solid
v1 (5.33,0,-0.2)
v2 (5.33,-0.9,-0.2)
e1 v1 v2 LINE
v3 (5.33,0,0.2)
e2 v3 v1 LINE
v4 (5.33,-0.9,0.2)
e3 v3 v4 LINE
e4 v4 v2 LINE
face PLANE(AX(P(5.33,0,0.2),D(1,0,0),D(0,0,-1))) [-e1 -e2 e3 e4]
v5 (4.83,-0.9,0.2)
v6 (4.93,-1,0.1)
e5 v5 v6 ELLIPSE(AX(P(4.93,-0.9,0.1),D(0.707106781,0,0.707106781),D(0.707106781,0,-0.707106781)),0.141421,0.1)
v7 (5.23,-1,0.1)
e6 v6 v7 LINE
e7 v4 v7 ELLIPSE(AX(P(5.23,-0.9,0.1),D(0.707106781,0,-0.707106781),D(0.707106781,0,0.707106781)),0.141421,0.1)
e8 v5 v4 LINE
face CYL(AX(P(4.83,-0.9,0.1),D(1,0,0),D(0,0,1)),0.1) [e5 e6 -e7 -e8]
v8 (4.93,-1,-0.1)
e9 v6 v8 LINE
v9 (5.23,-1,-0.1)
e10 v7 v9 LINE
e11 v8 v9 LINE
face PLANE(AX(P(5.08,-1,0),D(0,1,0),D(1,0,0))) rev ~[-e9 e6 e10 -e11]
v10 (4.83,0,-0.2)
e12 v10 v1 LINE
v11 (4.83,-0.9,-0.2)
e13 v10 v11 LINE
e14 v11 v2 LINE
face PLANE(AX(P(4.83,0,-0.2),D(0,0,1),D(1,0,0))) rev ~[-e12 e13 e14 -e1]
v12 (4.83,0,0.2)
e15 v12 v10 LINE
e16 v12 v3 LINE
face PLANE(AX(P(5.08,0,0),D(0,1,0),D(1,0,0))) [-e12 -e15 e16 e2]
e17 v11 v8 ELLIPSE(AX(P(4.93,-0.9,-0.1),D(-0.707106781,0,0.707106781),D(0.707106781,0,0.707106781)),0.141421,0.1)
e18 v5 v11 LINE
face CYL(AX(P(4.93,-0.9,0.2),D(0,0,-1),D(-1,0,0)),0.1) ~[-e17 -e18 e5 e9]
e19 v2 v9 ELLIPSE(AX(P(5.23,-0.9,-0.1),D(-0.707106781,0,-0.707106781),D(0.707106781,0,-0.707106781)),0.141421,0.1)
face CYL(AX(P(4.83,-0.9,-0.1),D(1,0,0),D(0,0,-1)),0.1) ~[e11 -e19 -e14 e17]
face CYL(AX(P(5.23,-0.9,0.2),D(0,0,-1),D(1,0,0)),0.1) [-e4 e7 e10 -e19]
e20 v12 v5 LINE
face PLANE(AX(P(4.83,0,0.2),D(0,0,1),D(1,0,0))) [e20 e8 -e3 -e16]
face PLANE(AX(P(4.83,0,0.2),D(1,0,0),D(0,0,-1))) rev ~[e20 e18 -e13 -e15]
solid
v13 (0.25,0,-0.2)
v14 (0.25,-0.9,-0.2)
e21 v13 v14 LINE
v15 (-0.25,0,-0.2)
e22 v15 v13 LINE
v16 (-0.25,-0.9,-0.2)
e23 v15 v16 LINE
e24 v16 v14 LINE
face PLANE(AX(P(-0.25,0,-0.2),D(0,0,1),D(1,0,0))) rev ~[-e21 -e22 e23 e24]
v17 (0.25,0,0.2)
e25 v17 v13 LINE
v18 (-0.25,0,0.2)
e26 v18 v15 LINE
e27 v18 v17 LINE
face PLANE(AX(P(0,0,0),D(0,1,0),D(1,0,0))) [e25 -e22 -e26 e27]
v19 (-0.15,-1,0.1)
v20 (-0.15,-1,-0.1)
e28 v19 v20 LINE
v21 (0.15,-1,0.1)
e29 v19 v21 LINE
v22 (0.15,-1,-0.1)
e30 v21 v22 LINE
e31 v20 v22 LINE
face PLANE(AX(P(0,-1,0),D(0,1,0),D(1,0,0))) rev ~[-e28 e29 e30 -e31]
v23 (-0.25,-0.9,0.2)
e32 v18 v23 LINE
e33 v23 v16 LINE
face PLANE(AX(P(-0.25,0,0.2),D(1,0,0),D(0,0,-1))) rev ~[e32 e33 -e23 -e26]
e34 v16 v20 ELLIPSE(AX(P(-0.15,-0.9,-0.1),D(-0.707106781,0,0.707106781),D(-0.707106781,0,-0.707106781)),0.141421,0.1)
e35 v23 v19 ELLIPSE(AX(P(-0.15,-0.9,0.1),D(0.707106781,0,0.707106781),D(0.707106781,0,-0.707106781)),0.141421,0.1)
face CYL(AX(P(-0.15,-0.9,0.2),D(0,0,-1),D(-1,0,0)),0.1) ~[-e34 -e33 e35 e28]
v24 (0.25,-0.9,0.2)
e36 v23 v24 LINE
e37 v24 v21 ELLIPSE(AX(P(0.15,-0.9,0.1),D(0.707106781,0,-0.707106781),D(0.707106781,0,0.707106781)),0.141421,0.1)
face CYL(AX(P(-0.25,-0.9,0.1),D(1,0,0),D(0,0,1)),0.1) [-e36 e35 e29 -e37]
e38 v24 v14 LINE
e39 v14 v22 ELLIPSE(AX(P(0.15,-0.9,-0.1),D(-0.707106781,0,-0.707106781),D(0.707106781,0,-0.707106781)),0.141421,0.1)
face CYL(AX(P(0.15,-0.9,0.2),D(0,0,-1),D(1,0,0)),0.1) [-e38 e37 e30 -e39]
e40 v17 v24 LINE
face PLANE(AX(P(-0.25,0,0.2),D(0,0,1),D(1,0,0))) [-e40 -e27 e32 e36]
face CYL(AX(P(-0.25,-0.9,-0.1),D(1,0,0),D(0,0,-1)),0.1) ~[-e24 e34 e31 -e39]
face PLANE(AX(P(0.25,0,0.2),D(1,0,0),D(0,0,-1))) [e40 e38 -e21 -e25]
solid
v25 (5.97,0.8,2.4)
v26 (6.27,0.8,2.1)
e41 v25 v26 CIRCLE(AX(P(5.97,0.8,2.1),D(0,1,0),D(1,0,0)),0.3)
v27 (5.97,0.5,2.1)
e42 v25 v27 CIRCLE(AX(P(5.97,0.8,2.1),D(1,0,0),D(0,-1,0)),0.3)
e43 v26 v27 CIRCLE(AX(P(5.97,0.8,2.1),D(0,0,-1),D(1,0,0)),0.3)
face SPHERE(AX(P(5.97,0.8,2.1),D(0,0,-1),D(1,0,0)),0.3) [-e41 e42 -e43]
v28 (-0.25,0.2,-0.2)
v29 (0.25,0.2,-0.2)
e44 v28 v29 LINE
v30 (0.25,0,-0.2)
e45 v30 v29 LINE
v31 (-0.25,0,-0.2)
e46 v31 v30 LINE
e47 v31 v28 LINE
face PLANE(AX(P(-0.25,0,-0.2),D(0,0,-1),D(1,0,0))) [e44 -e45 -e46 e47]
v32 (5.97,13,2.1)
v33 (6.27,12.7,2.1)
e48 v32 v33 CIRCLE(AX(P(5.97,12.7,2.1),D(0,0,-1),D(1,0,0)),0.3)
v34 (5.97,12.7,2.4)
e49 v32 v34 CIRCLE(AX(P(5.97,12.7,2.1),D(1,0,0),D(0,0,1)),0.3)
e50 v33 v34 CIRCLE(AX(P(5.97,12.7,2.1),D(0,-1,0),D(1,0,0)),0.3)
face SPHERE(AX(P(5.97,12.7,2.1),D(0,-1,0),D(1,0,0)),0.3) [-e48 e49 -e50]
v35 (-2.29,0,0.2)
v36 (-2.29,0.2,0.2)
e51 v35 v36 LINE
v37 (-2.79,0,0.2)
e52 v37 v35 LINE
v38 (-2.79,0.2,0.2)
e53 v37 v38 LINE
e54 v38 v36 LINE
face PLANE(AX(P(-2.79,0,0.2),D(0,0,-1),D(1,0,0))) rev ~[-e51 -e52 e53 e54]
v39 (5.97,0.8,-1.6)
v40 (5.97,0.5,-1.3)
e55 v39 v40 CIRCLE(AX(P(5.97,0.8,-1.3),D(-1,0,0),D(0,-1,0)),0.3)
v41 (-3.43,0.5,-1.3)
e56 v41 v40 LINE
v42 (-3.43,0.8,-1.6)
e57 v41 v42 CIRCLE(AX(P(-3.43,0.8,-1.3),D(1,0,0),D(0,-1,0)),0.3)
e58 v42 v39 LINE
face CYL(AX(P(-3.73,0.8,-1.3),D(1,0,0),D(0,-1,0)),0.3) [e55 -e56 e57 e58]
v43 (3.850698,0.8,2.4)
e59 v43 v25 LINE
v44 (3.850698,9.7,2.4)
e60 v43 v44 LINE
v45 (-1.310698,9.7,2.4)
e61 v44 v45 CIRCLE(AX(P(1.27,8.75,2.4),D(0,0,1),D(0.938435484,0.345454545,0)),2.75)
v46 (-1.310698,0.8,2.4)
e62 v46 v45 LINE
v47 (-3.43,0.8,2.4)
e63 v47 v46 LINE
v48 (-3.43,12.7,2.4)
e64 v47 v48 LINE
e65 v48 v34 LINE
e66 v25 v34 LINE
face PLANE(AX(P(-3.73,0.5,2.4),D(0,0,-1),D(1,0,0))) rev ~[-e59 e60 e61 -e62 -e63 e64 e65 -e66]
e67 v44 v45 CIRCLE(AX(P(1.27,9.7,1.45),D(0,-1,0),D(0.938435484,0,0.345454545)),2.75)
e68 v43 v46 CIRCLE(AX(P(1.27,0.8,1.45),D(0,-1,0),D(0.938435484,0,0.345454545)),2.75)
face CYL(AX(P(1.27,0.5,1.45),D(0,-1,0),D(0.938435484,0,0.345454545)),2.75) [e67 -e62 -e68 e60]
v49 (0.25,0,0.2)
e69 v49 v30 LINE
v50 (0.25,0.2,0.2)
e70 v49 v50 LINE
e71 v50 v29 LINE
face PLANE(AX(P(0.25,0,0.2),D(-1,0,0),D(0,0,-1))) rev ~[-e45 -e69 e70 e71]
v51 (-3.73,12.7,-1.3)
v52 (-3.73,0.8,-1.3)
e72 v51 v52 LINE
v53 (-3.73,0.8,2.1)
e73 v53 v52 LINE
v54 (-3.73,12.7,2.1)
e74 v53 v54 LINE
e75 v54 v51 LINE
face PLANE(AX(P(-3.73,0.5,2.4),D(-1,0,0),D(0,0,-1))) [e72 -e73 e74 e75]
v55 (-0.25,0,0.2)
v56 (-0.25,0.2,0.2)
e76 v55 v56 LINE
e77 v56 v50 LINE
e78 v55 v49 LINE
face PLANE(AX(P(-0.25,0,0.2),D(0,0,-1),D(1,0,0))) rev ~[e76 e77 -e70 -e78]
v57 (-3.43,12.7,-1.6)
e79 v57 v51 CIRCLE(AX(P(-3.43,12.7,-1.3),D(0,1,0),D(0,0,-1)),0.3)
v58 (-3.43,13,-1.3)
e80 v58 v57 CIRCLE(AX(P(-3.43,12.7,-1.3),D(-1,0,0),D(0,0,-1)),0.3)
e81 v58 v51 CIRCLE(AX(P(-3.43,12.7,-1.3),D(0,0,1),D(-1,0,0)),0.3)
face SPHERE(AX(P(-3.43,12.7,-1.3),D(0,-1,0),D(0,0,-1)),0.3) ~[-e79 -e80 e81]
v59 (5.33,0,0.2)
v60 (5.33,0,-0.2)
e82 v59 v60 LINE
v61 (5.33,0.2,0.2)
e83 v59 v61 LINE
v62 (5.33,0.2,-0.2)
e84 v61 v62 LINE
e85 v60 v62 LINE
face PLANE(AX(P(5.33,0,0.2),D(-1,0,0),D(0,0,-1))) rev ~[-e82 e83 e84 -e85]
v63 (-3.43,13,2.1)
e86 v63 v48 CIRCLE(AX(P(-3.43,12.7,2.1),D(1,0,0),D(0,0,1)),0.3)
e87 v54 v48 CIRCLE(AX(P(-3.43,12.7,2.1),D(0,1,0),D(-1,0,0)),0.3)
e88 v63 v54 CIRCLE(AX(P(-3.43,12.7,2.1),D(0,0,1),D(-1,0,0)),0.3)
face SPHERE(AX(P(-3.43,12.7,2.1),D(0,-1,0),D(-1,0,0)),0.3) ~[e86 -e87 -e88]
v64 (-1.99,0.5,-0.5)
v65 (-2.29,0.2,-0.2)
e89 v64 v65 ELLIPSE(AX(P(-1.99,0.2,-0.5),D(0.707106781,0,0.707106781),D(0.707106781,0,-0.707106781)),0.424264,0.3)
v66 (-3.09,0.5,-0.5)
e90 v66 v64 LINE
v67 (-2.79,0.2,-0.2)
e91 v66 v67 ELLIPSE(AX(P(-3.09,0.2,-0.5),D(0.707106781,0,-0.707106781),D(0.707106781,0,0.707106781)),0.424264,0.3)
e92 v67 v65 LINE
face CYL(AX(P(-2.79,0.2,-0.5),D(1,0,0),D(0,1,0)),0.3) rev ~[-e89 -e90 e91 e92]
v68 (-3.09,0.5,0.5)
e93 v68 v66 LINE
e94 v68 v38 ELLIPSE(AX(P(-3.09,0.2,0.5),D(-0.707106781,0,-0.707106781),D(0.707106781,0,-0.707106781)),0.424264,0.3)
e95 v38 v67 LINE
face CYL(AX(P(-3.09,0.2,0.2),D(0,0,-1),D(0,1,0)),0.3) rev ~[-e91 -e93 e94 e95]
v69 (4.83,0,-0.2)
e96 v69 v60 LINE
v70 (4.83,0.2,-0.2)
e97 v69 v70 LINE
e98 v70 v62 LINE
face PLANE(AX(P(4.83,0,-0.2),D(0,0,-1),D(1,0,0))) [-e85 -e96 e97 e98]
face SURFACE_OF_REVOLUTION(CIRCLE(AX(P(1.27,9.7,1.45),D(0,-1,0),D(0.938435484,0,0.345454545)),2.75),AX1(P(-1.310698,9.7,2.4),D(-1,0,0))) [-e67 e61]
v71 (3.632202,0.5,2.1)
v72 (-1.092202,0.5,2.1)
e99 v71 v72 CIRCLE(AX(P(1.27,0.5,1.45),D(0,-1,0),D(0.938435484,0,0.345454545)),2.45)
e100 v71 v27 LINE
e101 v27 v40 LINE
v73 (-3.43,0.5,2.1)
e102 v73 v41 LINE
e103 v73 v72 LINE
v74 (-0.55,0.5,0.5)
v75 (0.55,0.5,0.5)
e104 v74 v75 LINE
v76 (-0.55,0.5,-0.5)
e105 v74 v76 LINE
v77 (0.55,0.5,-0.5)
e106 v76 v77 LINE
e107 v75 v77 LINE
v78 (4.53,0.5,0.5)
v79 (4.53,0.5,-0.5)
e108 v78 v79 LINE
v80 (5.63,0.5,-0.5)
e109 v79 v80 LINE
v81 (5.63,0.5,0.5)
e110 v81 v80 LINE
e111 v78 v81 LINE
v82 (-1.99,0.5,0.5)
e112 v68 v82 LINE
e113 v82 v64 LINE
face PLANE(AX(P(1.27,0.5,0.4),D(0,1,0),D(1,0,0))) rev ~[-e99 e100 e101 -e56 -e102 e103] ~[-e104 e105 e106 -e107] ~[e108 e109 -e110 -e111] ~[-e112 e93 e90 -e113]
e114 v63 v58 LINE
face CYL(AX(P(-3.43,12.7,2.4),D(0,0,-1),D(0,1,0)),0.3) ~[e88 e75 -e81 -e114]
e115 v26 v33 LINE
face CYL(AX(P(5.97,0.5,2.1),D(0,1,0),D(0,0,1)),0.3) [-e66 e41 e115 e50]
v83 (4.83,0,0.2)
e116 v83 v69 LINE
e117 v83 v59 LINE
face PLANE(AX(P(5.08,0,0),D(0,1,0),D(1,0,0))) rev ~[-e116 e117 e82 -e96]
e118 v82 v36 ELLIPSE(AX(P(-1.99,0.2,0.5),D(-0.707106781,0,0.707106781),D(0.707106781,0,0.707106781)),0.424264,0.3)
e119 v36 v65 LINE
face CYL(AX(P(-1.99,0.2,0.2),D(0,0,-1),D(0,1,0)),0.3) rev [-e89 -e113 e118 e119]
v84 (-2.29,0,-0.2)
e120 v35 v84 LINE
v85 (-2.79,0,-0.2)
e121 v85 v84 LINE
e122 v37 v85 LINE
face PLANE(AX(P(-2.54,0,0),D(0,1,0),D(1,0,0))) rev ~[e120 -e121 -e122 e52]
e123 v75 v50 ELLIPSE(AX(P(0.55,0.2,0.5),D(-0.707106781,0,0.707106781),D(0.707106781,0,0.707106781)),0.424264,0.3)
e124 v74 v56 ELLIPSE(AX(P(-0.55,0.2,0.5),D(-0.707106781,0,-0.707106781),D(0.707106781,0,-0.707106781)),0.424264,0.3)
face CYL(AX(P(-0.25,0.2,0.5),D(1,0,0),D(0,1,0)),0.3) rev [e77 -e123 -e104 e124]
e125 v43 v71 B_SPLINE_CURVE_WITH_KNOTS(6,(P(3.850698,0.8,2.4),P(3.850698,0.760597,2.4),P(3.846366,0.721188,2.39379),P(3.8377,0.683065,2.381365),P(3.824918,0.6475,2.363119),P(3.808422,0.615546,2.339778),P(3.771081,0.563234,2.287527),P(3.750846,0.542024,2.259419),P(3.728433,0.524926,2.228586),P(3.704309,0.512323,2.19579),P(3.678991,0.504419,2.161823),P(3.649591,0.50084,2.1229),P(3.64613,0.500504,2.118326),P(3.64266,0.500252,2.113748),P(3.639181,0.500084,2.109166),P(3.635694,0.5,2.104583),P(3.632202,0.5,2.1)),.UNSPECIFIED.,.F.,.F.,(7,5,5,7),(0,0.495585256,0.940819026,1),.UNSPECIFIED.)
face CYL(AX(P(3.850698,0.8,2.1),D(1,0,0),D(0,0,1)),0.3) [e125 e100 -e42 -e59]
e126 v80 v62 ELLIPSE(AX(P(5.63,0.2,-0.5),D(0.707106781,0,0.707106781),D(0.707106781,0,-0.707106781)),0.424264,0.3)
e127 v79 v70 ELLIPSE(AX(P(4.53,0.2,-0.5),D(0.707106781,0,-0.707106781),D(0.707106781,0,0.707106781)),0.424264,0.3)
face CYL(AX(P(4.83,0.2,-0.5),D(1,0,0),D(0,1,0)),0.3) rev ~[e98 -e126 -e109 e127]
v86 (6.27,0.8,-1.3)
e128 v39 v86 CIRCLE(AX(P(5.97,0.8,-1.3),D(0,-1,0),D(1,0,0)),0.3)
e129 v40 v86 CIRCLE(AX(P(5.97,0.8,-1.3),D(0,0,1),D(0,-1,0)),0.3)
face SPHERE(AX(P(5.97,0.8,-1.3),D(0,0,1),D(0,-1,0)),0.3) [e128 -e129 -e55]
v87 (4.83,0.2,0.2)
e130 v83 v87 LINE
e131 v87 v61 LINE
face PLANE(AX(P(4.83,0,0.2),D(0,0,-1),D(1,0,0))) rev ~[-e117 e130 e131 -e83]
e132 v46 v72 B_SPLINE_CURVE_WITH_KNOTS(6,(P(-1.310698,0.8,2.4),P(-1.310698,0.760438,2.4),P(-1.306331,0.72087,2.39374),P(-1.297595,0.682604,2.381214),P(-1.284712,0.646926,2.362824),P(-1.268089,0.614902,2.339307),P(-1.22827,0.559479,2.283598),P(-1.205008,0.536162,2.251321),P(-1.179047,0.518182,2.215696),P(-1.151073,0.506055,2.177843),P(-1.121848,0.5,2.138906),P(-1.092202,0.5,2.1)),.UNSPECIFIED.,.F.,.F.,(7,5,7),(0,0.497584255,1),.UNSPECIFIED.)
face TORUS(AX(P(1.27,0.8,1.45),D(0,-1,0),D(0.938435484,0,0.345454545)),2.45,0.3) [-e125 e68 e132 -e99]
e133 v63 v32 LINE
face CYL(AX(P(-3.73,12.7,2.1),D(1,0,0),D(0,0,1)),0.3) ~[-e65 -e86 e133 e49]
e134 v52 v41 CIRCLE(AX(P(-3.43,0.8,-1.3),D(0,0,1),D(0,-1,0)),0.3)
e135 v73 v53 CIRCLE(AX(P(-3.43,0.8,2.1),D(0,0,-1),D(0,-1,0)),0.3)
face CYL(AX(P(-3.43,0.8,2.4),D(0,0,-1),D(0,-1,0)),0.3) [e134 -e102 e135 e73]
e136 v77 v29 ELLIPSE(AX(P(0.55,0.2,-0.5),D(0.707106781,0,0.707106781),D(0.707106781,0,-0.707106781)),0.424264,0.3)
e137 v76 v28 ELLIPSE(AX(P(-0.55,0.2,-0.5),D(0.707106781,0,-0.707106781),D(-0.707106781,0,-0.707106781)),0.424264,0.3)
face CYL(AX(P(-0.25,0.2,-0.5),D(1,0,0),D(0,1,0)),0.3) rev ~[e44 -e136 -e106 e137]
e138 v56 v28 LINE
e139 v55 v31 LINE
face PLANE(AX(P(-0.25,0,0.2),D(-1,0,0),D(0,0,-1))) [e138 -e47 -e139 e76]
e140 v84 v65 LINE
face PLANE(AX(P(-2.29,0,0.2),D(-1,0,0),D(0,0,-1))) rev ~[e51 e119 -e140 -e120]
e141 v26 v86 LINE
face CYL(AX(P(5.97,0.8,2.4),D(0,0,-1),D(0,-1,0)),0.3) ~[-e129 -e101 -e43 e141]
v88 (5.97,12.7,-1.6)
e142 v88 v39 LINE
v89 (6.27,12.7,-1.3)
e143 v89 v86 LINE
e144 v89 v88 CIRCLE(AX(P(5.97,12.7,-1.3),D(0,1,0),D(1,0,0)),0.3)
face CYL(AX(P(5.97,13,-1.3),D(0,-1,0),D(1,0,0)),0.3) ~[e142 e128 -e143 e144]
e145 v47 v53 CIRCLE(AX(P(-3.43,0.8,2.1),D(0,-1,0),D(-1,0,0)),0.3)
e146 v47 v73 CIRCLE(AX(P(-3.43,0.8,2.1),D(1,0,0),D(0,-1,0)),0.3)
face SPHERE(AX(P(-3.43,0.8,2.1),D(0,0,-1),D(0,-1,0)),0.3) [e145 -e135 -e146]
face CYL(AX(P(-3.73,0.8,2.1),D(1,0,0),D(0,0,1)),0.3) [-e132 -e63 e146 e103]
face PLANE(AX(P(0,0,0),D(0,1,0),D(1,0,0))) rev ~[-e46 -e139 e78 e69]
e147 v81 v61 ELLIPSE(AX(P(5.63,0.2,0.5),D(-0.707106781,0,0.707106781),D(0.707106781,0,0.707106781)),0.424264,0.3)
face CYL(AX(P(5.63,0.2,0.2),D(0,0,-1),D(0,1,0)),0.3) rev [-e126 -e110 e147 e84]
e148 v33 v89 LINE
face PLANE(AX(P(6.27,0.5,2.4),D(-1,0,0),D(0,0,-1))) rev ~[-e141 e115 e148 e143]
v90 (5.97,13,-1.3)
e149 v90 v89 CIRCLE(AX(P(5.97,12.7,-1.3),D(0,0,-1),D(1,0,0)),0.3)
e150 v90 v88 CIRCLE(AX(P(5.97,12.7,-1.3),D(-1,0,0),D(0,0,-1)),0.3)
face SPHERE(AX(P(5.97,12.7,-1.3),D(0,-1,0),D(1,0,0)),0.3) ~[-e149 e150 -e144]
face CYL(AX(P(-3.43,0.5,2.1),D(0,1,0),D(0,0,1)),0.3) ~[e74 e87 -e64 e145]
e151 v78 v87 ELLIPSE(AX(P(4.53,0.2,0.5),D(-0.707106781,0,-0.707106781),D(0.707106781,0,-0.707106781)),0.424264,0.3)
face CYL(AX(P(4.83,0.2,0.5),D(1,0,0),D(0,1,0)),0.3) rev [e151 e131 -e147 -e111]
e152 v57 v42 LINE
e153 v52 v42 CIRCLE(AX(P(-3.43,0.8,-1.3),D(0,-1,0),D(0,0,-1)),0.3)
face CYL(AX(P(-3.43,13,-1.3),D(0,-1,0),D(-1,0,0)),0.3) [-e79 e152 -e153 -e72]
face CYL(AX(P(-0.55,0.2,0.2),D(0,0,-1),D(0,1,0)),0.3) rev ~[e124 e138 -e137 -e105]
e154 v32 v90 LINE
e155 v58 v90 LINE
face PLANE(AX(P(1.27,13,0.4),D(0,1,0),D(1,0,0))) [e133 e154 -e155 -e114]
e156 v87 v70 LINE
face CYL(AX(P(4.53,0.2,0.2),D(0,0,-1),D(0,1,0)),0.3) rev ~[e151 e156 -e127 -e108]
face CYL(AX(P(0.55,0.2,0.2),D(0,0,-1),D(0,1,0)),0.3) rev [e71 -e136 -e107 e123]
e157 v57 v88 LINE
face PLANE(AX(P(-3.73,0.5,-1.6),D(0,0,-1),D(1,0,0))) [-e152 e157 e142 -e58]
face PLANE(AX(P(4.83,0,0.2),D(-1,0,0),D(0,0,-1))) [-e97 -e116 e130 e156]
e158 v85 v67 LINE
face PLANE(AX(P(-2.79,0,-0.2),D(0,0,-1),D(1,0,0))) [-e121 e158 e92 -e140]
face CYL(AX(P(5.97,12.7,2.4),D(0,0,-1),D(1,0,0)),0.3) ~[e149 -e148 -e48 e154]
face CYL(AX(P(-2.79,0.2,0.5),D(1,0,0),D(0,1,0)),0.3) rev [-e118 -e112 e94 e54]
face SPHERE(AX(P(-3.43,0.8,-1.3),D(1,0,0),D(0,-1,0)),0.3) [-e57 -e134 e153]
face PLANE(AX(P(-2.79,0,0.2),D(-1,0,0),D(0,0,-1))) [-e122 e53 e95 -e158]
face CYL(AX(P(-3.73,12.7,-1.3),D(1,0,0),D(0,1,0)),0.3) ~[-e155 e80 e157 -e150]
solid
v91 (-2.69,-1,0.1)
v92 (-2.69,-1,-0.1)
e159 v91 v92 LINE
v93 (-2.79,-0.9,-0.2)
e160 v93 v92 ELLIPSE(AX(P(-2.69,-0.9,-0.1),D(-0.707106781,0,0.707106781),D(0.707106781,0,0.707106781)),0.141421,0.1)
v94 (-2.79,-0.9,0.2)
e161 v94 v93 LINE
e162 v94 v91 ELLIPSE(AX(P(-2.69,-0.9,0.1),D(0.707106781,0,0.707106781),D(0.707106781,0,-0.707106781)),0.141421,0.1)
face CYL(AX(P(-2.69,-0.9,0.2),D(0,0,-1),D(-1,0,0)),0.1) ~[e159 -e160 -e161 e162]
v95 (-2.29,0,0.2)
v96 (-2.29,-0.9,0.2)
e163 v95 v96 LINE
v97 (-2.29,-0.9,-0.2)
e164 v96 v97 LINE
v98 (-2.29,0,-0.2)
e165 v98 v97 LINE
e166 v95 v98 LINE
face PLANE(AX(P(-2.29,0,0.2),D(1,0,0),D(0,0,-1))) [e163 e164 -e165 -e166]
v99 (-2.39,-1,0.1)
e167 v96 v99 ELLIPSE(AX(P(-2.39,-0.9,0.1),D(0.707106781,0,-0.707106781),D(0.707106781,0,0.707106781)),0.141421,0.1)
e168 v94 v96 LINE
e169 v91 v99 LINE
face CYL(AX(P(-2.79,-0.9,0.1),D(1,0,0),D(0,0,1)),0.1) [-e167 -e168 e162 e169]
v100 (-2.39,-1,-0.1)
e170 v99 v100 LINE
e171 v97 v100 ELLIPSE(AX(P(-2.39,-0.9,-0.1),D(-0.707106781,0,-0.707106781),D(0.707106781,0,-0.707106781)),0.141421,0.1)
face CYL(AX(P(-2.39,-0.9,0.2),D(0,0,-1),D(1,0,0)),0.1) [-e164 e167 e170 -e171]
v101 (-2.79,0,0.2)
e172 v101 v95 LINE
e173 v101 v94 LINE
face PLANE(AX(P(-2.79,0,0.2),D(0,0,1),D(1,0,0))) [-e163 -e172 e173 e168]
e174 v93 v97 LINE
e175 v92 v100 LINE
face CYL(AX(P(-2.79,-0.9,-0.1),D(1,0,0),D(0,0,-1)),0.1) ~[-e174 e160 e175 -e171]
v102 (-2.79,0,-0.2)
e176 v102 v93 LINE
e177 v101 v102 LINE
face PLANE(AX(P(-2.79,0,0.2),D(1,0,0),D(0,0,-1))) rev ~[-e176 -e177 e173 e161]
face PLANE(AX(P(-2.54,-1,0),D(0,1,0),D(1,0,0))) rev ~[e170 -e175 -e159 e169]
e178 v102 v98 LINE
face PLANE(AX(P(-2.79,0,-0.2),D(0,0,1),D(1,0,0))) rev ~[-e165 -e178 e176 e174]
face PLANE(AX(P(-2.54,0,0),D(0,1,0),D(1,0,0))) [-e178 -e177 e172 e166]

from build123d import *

# Parameters (mm, degrees)
SKETCH_1_W        = 0.5
SKETCH_1_H        = 0.4
EXTRUDE_1_DEPTH   = 0.5
EXTRUDE_1_2_DEPTH = 0.5
EXTRUDE_1_3_DEPTH = 0.5
SKETCH_3_W        = 10
SKETCH_3_H        = 4
EXTRUDE_2_DEPTH   = 12.5
EXTRUDE_3_DEPTH   = 9.2
REVOLVE_1_ANGLE   = 90
FILLET_1_R        = 0.3
SKETCH_1_2_W      = 0.5
SKETCH_1_2_H      = 0.4
EXTRUDE_4_DEPTH   = 1
EXTRUDE_4_2_DEPTH = 1
EXTRUDE_4_3_DEPTH = 1
FILLET_2_R        = 0.1
FILLET_3_R        = 0.1
FILLET_4_R        = 0.1


with BuildPart() as part:
    # Эскиз1 → Бобышка-Вытянуть1 (new body)
    with BuildSketch(Plane(origin=(0, 0, 0), x_dir=(1, 0, 0), z_dir=(0, 1, 0))):
        with Locations((-2.54, 0)):
            Rectangle(SKETCH_1_W, SKETCH_1_H)
    extrude(amount=EXTRUDE_1_DEPTH)



with BuildPart() as body_2:
    # Эскиз1 → Extrude 1 2 (new body)
    with BuildSketch(Plane(origin=(0, 0, 0), x_dir=(1, 0, 0), z_dir=(0, 1, 0))):
        Rectangle(SKETCH_1_W, SKETCH_1_H)
    extrude(amount=EXTRUDE_1_2_DEPTH)


with BuildPart() as body_3:
    # Эскиз1 → Extrude 1 3 (new body)
    with BuildSketch(Plane(origin=(0, 0, 0), x_dir=(1, 0, 0), z_dir=(0, 1, 0))):
        with Locations((5.08, 0)):
            Rectangle(SKETCH_1_W, SKETCH_1_H)
    extrude(amount=EXTRUDE_1_3_DEPTH)


with BuildPart() as part_1:
    add(part.part)

    add(body_2.part)  # Бобышка-Вытянуть2 merges body 2

    add(body_3.part)  # Бобышка-Вытянуть2 merges body 3
    # Эскиз3 → Бобышка-Вытянуть2 (add)
    with BuildSketch(Plane(origin=(0, 0.5, 0), x_dir=(1, 0, 0), z_dir=(0, 1, 0))):
        with Locations((1.27, -0.4)):
            Rectangle(SKETCH_3_W, SKETCH_3_H)
    extrude(amount=EXTRUDE_2_DEPTH)

    # Эскиз4 → Бобышка-Вытянуть3 (add)
    with BuildSketch(Plane.XZ.offset(-0.5)):
        with BuildLine():
            Line((6.27, 2.4), (3.85069758, 2.4))
            ThreePointArc((3.85069758, 2.4), (1.27, 4.2), (-1.31069758, 2.4))
            Line((-1.31069758, 2.4), (-3.73, 2.4))
            Line((-3.73, 2.4), (-3.73, -1.6))
            Line((-3.73, -1.6), (6.27, -1.6))
            Line((6.27, -1.6), (6.27, 2.4))
        make_face()
    extrude(amount=-EXTRUDE_3_DEPTH)

    # Эскиз7 → Повернуть1 (revolve)
    with BuildSketch(Plane(origin=(0, 9.7, 0), x_dir=(1, 0, 0), z_dir=(0, 1, 0))):
        with BuildLine():
            Line((-1.31069758, -2.4), (3.85069758, -2.4))
            ThreePointArc((3.85069758, -2.4), (1.27, -4.2), (-1.31069758, -2.4))
        make_face()
    revolve(axis=Axis((-1.31069758, 9.7, 2.4), (-1, 0, 0)), revolution_arc=REVOLVE_1_ANGLE)

    # Скругление1
    fillet_1_edges = [part_1.edges().sort_by_distance(p)[0] for p in [
        (-0.25, 0.5, 0),
        (0, 0.5, 0.2),
        (6.27, 0.5, 0.4),
        (6.27, 6.75, 2.4),
        (1.27, 0.5, -1.6),
        (6.27, 6.75, -1.6),
        (-3.73, 0.5, 0.4),
        (-3.73, 6.75, -1.6),
        (-2.52034879, 0.5, 2.4),
        (-3.73, 6.75, 2.4),
        (6.27, 13, 0.4),
        (1.27, 13, -1.6),
        (-3.73, 13, 0.4),
        (1.27, 13, 2.4),
        (-2.54, 0.5, 0.2),
        (-2.29, 0.5, 0),
        (-2.54, 0.5, -0.2),
        (-2.79, 0.5, 0),
        (5.08, 0.5, 0.2),
        (5.33, 0.5, 0),
        (5.08, 0.5, -0.2),
        (4.83, 0.5, 0),
        (0.25, 0.5, 0),
        (5.06034879, 0.5, 2.4),
        (1.27, 0.5, 4.2),
        (0, 0.5, -0.2),
    ]]
    fillet(fillet_1_edges, radius=FILLET_1_R)


with BuildPart() as body_2_2:
    # Эскиз1<2> → Бобышка-Вытянуть4 (new body)
    with BuildSketch(Plane(origin=(0, 0, 0), x_dir=(1, 0, 0), z_dir=(0, 1, 0))):
        with Locations((-2.54, 0)):
            Rectangle(SKETCH_1_2_W, SKETCH_1_2_H)
    extrude(amount=-EXTRUDE_4_DEPTH)

    # Скругление2
    fillet_2_edges = [body_2_2.edges().sort_by_distance(p)[0] for p in [
        (-2.54, -1, -0.2),
        (-2.79, -1, 0),
        (-2.54, -1, 0.2),
        (-2.29, -1, 0),
    ]]
    fillet(fillet_2_edges, radius=FILLET_2_R)


with BuildPart() as body_3_2:
    # Эскиз1<2> → Extrude 4 2 (new body)
    with BuildSketch(Plane(origin=(0, 0, 0), x_dir=(1, 0, 0), z_dir=(0, 1, 0))):
        Rectangle(SKETCH_1_2_W, SKETCH_1_2_H)
    extrude(amount=-EXTRUDE_4_2_DEPTH)

    # Скругление3
    fillet_3_edges = [body_3_2.edges().sort_by_distance(p)[0] for p in [
        (-0.25, -1, 0),
        (0, -1, 0.2),
        (0.25, -1, 0),
        (0, -1, -0.2),
    ]]
    fillet(fillet_3_edges, radius=FILLET_3_R)


with BuildPart() as body_4:
    # Эскиз1<2> → Extrude 4 3 (new body)
    with BuildSketch(Plane(origin=(0, 0, 0), x_dir=(1, 0, 0), z_dir=(0, 1, 0))):
        with Locations((5.08, 0)):
            Rectangle(SKETCH_1_2_W, SKETCH_1_2_H)
    extrude(amount=-EXTRUDE_4_3_DEPTH)

    # Скругление4
    fillet_4_edges = [body_4.edges().sort_by_distance(p)[0] for p in [
        (5.08, -1, -0.2),
        (4.83, -1, 0),
        (5.08, -1, 0.2),
        (5.33, -1, 0),
    ]]
    fillet(fillet_4_edges, radius=FILLET_4_R)


solid = Compound([part_1.part, body_2_2.part, body_3_2.part, body_4.part])
